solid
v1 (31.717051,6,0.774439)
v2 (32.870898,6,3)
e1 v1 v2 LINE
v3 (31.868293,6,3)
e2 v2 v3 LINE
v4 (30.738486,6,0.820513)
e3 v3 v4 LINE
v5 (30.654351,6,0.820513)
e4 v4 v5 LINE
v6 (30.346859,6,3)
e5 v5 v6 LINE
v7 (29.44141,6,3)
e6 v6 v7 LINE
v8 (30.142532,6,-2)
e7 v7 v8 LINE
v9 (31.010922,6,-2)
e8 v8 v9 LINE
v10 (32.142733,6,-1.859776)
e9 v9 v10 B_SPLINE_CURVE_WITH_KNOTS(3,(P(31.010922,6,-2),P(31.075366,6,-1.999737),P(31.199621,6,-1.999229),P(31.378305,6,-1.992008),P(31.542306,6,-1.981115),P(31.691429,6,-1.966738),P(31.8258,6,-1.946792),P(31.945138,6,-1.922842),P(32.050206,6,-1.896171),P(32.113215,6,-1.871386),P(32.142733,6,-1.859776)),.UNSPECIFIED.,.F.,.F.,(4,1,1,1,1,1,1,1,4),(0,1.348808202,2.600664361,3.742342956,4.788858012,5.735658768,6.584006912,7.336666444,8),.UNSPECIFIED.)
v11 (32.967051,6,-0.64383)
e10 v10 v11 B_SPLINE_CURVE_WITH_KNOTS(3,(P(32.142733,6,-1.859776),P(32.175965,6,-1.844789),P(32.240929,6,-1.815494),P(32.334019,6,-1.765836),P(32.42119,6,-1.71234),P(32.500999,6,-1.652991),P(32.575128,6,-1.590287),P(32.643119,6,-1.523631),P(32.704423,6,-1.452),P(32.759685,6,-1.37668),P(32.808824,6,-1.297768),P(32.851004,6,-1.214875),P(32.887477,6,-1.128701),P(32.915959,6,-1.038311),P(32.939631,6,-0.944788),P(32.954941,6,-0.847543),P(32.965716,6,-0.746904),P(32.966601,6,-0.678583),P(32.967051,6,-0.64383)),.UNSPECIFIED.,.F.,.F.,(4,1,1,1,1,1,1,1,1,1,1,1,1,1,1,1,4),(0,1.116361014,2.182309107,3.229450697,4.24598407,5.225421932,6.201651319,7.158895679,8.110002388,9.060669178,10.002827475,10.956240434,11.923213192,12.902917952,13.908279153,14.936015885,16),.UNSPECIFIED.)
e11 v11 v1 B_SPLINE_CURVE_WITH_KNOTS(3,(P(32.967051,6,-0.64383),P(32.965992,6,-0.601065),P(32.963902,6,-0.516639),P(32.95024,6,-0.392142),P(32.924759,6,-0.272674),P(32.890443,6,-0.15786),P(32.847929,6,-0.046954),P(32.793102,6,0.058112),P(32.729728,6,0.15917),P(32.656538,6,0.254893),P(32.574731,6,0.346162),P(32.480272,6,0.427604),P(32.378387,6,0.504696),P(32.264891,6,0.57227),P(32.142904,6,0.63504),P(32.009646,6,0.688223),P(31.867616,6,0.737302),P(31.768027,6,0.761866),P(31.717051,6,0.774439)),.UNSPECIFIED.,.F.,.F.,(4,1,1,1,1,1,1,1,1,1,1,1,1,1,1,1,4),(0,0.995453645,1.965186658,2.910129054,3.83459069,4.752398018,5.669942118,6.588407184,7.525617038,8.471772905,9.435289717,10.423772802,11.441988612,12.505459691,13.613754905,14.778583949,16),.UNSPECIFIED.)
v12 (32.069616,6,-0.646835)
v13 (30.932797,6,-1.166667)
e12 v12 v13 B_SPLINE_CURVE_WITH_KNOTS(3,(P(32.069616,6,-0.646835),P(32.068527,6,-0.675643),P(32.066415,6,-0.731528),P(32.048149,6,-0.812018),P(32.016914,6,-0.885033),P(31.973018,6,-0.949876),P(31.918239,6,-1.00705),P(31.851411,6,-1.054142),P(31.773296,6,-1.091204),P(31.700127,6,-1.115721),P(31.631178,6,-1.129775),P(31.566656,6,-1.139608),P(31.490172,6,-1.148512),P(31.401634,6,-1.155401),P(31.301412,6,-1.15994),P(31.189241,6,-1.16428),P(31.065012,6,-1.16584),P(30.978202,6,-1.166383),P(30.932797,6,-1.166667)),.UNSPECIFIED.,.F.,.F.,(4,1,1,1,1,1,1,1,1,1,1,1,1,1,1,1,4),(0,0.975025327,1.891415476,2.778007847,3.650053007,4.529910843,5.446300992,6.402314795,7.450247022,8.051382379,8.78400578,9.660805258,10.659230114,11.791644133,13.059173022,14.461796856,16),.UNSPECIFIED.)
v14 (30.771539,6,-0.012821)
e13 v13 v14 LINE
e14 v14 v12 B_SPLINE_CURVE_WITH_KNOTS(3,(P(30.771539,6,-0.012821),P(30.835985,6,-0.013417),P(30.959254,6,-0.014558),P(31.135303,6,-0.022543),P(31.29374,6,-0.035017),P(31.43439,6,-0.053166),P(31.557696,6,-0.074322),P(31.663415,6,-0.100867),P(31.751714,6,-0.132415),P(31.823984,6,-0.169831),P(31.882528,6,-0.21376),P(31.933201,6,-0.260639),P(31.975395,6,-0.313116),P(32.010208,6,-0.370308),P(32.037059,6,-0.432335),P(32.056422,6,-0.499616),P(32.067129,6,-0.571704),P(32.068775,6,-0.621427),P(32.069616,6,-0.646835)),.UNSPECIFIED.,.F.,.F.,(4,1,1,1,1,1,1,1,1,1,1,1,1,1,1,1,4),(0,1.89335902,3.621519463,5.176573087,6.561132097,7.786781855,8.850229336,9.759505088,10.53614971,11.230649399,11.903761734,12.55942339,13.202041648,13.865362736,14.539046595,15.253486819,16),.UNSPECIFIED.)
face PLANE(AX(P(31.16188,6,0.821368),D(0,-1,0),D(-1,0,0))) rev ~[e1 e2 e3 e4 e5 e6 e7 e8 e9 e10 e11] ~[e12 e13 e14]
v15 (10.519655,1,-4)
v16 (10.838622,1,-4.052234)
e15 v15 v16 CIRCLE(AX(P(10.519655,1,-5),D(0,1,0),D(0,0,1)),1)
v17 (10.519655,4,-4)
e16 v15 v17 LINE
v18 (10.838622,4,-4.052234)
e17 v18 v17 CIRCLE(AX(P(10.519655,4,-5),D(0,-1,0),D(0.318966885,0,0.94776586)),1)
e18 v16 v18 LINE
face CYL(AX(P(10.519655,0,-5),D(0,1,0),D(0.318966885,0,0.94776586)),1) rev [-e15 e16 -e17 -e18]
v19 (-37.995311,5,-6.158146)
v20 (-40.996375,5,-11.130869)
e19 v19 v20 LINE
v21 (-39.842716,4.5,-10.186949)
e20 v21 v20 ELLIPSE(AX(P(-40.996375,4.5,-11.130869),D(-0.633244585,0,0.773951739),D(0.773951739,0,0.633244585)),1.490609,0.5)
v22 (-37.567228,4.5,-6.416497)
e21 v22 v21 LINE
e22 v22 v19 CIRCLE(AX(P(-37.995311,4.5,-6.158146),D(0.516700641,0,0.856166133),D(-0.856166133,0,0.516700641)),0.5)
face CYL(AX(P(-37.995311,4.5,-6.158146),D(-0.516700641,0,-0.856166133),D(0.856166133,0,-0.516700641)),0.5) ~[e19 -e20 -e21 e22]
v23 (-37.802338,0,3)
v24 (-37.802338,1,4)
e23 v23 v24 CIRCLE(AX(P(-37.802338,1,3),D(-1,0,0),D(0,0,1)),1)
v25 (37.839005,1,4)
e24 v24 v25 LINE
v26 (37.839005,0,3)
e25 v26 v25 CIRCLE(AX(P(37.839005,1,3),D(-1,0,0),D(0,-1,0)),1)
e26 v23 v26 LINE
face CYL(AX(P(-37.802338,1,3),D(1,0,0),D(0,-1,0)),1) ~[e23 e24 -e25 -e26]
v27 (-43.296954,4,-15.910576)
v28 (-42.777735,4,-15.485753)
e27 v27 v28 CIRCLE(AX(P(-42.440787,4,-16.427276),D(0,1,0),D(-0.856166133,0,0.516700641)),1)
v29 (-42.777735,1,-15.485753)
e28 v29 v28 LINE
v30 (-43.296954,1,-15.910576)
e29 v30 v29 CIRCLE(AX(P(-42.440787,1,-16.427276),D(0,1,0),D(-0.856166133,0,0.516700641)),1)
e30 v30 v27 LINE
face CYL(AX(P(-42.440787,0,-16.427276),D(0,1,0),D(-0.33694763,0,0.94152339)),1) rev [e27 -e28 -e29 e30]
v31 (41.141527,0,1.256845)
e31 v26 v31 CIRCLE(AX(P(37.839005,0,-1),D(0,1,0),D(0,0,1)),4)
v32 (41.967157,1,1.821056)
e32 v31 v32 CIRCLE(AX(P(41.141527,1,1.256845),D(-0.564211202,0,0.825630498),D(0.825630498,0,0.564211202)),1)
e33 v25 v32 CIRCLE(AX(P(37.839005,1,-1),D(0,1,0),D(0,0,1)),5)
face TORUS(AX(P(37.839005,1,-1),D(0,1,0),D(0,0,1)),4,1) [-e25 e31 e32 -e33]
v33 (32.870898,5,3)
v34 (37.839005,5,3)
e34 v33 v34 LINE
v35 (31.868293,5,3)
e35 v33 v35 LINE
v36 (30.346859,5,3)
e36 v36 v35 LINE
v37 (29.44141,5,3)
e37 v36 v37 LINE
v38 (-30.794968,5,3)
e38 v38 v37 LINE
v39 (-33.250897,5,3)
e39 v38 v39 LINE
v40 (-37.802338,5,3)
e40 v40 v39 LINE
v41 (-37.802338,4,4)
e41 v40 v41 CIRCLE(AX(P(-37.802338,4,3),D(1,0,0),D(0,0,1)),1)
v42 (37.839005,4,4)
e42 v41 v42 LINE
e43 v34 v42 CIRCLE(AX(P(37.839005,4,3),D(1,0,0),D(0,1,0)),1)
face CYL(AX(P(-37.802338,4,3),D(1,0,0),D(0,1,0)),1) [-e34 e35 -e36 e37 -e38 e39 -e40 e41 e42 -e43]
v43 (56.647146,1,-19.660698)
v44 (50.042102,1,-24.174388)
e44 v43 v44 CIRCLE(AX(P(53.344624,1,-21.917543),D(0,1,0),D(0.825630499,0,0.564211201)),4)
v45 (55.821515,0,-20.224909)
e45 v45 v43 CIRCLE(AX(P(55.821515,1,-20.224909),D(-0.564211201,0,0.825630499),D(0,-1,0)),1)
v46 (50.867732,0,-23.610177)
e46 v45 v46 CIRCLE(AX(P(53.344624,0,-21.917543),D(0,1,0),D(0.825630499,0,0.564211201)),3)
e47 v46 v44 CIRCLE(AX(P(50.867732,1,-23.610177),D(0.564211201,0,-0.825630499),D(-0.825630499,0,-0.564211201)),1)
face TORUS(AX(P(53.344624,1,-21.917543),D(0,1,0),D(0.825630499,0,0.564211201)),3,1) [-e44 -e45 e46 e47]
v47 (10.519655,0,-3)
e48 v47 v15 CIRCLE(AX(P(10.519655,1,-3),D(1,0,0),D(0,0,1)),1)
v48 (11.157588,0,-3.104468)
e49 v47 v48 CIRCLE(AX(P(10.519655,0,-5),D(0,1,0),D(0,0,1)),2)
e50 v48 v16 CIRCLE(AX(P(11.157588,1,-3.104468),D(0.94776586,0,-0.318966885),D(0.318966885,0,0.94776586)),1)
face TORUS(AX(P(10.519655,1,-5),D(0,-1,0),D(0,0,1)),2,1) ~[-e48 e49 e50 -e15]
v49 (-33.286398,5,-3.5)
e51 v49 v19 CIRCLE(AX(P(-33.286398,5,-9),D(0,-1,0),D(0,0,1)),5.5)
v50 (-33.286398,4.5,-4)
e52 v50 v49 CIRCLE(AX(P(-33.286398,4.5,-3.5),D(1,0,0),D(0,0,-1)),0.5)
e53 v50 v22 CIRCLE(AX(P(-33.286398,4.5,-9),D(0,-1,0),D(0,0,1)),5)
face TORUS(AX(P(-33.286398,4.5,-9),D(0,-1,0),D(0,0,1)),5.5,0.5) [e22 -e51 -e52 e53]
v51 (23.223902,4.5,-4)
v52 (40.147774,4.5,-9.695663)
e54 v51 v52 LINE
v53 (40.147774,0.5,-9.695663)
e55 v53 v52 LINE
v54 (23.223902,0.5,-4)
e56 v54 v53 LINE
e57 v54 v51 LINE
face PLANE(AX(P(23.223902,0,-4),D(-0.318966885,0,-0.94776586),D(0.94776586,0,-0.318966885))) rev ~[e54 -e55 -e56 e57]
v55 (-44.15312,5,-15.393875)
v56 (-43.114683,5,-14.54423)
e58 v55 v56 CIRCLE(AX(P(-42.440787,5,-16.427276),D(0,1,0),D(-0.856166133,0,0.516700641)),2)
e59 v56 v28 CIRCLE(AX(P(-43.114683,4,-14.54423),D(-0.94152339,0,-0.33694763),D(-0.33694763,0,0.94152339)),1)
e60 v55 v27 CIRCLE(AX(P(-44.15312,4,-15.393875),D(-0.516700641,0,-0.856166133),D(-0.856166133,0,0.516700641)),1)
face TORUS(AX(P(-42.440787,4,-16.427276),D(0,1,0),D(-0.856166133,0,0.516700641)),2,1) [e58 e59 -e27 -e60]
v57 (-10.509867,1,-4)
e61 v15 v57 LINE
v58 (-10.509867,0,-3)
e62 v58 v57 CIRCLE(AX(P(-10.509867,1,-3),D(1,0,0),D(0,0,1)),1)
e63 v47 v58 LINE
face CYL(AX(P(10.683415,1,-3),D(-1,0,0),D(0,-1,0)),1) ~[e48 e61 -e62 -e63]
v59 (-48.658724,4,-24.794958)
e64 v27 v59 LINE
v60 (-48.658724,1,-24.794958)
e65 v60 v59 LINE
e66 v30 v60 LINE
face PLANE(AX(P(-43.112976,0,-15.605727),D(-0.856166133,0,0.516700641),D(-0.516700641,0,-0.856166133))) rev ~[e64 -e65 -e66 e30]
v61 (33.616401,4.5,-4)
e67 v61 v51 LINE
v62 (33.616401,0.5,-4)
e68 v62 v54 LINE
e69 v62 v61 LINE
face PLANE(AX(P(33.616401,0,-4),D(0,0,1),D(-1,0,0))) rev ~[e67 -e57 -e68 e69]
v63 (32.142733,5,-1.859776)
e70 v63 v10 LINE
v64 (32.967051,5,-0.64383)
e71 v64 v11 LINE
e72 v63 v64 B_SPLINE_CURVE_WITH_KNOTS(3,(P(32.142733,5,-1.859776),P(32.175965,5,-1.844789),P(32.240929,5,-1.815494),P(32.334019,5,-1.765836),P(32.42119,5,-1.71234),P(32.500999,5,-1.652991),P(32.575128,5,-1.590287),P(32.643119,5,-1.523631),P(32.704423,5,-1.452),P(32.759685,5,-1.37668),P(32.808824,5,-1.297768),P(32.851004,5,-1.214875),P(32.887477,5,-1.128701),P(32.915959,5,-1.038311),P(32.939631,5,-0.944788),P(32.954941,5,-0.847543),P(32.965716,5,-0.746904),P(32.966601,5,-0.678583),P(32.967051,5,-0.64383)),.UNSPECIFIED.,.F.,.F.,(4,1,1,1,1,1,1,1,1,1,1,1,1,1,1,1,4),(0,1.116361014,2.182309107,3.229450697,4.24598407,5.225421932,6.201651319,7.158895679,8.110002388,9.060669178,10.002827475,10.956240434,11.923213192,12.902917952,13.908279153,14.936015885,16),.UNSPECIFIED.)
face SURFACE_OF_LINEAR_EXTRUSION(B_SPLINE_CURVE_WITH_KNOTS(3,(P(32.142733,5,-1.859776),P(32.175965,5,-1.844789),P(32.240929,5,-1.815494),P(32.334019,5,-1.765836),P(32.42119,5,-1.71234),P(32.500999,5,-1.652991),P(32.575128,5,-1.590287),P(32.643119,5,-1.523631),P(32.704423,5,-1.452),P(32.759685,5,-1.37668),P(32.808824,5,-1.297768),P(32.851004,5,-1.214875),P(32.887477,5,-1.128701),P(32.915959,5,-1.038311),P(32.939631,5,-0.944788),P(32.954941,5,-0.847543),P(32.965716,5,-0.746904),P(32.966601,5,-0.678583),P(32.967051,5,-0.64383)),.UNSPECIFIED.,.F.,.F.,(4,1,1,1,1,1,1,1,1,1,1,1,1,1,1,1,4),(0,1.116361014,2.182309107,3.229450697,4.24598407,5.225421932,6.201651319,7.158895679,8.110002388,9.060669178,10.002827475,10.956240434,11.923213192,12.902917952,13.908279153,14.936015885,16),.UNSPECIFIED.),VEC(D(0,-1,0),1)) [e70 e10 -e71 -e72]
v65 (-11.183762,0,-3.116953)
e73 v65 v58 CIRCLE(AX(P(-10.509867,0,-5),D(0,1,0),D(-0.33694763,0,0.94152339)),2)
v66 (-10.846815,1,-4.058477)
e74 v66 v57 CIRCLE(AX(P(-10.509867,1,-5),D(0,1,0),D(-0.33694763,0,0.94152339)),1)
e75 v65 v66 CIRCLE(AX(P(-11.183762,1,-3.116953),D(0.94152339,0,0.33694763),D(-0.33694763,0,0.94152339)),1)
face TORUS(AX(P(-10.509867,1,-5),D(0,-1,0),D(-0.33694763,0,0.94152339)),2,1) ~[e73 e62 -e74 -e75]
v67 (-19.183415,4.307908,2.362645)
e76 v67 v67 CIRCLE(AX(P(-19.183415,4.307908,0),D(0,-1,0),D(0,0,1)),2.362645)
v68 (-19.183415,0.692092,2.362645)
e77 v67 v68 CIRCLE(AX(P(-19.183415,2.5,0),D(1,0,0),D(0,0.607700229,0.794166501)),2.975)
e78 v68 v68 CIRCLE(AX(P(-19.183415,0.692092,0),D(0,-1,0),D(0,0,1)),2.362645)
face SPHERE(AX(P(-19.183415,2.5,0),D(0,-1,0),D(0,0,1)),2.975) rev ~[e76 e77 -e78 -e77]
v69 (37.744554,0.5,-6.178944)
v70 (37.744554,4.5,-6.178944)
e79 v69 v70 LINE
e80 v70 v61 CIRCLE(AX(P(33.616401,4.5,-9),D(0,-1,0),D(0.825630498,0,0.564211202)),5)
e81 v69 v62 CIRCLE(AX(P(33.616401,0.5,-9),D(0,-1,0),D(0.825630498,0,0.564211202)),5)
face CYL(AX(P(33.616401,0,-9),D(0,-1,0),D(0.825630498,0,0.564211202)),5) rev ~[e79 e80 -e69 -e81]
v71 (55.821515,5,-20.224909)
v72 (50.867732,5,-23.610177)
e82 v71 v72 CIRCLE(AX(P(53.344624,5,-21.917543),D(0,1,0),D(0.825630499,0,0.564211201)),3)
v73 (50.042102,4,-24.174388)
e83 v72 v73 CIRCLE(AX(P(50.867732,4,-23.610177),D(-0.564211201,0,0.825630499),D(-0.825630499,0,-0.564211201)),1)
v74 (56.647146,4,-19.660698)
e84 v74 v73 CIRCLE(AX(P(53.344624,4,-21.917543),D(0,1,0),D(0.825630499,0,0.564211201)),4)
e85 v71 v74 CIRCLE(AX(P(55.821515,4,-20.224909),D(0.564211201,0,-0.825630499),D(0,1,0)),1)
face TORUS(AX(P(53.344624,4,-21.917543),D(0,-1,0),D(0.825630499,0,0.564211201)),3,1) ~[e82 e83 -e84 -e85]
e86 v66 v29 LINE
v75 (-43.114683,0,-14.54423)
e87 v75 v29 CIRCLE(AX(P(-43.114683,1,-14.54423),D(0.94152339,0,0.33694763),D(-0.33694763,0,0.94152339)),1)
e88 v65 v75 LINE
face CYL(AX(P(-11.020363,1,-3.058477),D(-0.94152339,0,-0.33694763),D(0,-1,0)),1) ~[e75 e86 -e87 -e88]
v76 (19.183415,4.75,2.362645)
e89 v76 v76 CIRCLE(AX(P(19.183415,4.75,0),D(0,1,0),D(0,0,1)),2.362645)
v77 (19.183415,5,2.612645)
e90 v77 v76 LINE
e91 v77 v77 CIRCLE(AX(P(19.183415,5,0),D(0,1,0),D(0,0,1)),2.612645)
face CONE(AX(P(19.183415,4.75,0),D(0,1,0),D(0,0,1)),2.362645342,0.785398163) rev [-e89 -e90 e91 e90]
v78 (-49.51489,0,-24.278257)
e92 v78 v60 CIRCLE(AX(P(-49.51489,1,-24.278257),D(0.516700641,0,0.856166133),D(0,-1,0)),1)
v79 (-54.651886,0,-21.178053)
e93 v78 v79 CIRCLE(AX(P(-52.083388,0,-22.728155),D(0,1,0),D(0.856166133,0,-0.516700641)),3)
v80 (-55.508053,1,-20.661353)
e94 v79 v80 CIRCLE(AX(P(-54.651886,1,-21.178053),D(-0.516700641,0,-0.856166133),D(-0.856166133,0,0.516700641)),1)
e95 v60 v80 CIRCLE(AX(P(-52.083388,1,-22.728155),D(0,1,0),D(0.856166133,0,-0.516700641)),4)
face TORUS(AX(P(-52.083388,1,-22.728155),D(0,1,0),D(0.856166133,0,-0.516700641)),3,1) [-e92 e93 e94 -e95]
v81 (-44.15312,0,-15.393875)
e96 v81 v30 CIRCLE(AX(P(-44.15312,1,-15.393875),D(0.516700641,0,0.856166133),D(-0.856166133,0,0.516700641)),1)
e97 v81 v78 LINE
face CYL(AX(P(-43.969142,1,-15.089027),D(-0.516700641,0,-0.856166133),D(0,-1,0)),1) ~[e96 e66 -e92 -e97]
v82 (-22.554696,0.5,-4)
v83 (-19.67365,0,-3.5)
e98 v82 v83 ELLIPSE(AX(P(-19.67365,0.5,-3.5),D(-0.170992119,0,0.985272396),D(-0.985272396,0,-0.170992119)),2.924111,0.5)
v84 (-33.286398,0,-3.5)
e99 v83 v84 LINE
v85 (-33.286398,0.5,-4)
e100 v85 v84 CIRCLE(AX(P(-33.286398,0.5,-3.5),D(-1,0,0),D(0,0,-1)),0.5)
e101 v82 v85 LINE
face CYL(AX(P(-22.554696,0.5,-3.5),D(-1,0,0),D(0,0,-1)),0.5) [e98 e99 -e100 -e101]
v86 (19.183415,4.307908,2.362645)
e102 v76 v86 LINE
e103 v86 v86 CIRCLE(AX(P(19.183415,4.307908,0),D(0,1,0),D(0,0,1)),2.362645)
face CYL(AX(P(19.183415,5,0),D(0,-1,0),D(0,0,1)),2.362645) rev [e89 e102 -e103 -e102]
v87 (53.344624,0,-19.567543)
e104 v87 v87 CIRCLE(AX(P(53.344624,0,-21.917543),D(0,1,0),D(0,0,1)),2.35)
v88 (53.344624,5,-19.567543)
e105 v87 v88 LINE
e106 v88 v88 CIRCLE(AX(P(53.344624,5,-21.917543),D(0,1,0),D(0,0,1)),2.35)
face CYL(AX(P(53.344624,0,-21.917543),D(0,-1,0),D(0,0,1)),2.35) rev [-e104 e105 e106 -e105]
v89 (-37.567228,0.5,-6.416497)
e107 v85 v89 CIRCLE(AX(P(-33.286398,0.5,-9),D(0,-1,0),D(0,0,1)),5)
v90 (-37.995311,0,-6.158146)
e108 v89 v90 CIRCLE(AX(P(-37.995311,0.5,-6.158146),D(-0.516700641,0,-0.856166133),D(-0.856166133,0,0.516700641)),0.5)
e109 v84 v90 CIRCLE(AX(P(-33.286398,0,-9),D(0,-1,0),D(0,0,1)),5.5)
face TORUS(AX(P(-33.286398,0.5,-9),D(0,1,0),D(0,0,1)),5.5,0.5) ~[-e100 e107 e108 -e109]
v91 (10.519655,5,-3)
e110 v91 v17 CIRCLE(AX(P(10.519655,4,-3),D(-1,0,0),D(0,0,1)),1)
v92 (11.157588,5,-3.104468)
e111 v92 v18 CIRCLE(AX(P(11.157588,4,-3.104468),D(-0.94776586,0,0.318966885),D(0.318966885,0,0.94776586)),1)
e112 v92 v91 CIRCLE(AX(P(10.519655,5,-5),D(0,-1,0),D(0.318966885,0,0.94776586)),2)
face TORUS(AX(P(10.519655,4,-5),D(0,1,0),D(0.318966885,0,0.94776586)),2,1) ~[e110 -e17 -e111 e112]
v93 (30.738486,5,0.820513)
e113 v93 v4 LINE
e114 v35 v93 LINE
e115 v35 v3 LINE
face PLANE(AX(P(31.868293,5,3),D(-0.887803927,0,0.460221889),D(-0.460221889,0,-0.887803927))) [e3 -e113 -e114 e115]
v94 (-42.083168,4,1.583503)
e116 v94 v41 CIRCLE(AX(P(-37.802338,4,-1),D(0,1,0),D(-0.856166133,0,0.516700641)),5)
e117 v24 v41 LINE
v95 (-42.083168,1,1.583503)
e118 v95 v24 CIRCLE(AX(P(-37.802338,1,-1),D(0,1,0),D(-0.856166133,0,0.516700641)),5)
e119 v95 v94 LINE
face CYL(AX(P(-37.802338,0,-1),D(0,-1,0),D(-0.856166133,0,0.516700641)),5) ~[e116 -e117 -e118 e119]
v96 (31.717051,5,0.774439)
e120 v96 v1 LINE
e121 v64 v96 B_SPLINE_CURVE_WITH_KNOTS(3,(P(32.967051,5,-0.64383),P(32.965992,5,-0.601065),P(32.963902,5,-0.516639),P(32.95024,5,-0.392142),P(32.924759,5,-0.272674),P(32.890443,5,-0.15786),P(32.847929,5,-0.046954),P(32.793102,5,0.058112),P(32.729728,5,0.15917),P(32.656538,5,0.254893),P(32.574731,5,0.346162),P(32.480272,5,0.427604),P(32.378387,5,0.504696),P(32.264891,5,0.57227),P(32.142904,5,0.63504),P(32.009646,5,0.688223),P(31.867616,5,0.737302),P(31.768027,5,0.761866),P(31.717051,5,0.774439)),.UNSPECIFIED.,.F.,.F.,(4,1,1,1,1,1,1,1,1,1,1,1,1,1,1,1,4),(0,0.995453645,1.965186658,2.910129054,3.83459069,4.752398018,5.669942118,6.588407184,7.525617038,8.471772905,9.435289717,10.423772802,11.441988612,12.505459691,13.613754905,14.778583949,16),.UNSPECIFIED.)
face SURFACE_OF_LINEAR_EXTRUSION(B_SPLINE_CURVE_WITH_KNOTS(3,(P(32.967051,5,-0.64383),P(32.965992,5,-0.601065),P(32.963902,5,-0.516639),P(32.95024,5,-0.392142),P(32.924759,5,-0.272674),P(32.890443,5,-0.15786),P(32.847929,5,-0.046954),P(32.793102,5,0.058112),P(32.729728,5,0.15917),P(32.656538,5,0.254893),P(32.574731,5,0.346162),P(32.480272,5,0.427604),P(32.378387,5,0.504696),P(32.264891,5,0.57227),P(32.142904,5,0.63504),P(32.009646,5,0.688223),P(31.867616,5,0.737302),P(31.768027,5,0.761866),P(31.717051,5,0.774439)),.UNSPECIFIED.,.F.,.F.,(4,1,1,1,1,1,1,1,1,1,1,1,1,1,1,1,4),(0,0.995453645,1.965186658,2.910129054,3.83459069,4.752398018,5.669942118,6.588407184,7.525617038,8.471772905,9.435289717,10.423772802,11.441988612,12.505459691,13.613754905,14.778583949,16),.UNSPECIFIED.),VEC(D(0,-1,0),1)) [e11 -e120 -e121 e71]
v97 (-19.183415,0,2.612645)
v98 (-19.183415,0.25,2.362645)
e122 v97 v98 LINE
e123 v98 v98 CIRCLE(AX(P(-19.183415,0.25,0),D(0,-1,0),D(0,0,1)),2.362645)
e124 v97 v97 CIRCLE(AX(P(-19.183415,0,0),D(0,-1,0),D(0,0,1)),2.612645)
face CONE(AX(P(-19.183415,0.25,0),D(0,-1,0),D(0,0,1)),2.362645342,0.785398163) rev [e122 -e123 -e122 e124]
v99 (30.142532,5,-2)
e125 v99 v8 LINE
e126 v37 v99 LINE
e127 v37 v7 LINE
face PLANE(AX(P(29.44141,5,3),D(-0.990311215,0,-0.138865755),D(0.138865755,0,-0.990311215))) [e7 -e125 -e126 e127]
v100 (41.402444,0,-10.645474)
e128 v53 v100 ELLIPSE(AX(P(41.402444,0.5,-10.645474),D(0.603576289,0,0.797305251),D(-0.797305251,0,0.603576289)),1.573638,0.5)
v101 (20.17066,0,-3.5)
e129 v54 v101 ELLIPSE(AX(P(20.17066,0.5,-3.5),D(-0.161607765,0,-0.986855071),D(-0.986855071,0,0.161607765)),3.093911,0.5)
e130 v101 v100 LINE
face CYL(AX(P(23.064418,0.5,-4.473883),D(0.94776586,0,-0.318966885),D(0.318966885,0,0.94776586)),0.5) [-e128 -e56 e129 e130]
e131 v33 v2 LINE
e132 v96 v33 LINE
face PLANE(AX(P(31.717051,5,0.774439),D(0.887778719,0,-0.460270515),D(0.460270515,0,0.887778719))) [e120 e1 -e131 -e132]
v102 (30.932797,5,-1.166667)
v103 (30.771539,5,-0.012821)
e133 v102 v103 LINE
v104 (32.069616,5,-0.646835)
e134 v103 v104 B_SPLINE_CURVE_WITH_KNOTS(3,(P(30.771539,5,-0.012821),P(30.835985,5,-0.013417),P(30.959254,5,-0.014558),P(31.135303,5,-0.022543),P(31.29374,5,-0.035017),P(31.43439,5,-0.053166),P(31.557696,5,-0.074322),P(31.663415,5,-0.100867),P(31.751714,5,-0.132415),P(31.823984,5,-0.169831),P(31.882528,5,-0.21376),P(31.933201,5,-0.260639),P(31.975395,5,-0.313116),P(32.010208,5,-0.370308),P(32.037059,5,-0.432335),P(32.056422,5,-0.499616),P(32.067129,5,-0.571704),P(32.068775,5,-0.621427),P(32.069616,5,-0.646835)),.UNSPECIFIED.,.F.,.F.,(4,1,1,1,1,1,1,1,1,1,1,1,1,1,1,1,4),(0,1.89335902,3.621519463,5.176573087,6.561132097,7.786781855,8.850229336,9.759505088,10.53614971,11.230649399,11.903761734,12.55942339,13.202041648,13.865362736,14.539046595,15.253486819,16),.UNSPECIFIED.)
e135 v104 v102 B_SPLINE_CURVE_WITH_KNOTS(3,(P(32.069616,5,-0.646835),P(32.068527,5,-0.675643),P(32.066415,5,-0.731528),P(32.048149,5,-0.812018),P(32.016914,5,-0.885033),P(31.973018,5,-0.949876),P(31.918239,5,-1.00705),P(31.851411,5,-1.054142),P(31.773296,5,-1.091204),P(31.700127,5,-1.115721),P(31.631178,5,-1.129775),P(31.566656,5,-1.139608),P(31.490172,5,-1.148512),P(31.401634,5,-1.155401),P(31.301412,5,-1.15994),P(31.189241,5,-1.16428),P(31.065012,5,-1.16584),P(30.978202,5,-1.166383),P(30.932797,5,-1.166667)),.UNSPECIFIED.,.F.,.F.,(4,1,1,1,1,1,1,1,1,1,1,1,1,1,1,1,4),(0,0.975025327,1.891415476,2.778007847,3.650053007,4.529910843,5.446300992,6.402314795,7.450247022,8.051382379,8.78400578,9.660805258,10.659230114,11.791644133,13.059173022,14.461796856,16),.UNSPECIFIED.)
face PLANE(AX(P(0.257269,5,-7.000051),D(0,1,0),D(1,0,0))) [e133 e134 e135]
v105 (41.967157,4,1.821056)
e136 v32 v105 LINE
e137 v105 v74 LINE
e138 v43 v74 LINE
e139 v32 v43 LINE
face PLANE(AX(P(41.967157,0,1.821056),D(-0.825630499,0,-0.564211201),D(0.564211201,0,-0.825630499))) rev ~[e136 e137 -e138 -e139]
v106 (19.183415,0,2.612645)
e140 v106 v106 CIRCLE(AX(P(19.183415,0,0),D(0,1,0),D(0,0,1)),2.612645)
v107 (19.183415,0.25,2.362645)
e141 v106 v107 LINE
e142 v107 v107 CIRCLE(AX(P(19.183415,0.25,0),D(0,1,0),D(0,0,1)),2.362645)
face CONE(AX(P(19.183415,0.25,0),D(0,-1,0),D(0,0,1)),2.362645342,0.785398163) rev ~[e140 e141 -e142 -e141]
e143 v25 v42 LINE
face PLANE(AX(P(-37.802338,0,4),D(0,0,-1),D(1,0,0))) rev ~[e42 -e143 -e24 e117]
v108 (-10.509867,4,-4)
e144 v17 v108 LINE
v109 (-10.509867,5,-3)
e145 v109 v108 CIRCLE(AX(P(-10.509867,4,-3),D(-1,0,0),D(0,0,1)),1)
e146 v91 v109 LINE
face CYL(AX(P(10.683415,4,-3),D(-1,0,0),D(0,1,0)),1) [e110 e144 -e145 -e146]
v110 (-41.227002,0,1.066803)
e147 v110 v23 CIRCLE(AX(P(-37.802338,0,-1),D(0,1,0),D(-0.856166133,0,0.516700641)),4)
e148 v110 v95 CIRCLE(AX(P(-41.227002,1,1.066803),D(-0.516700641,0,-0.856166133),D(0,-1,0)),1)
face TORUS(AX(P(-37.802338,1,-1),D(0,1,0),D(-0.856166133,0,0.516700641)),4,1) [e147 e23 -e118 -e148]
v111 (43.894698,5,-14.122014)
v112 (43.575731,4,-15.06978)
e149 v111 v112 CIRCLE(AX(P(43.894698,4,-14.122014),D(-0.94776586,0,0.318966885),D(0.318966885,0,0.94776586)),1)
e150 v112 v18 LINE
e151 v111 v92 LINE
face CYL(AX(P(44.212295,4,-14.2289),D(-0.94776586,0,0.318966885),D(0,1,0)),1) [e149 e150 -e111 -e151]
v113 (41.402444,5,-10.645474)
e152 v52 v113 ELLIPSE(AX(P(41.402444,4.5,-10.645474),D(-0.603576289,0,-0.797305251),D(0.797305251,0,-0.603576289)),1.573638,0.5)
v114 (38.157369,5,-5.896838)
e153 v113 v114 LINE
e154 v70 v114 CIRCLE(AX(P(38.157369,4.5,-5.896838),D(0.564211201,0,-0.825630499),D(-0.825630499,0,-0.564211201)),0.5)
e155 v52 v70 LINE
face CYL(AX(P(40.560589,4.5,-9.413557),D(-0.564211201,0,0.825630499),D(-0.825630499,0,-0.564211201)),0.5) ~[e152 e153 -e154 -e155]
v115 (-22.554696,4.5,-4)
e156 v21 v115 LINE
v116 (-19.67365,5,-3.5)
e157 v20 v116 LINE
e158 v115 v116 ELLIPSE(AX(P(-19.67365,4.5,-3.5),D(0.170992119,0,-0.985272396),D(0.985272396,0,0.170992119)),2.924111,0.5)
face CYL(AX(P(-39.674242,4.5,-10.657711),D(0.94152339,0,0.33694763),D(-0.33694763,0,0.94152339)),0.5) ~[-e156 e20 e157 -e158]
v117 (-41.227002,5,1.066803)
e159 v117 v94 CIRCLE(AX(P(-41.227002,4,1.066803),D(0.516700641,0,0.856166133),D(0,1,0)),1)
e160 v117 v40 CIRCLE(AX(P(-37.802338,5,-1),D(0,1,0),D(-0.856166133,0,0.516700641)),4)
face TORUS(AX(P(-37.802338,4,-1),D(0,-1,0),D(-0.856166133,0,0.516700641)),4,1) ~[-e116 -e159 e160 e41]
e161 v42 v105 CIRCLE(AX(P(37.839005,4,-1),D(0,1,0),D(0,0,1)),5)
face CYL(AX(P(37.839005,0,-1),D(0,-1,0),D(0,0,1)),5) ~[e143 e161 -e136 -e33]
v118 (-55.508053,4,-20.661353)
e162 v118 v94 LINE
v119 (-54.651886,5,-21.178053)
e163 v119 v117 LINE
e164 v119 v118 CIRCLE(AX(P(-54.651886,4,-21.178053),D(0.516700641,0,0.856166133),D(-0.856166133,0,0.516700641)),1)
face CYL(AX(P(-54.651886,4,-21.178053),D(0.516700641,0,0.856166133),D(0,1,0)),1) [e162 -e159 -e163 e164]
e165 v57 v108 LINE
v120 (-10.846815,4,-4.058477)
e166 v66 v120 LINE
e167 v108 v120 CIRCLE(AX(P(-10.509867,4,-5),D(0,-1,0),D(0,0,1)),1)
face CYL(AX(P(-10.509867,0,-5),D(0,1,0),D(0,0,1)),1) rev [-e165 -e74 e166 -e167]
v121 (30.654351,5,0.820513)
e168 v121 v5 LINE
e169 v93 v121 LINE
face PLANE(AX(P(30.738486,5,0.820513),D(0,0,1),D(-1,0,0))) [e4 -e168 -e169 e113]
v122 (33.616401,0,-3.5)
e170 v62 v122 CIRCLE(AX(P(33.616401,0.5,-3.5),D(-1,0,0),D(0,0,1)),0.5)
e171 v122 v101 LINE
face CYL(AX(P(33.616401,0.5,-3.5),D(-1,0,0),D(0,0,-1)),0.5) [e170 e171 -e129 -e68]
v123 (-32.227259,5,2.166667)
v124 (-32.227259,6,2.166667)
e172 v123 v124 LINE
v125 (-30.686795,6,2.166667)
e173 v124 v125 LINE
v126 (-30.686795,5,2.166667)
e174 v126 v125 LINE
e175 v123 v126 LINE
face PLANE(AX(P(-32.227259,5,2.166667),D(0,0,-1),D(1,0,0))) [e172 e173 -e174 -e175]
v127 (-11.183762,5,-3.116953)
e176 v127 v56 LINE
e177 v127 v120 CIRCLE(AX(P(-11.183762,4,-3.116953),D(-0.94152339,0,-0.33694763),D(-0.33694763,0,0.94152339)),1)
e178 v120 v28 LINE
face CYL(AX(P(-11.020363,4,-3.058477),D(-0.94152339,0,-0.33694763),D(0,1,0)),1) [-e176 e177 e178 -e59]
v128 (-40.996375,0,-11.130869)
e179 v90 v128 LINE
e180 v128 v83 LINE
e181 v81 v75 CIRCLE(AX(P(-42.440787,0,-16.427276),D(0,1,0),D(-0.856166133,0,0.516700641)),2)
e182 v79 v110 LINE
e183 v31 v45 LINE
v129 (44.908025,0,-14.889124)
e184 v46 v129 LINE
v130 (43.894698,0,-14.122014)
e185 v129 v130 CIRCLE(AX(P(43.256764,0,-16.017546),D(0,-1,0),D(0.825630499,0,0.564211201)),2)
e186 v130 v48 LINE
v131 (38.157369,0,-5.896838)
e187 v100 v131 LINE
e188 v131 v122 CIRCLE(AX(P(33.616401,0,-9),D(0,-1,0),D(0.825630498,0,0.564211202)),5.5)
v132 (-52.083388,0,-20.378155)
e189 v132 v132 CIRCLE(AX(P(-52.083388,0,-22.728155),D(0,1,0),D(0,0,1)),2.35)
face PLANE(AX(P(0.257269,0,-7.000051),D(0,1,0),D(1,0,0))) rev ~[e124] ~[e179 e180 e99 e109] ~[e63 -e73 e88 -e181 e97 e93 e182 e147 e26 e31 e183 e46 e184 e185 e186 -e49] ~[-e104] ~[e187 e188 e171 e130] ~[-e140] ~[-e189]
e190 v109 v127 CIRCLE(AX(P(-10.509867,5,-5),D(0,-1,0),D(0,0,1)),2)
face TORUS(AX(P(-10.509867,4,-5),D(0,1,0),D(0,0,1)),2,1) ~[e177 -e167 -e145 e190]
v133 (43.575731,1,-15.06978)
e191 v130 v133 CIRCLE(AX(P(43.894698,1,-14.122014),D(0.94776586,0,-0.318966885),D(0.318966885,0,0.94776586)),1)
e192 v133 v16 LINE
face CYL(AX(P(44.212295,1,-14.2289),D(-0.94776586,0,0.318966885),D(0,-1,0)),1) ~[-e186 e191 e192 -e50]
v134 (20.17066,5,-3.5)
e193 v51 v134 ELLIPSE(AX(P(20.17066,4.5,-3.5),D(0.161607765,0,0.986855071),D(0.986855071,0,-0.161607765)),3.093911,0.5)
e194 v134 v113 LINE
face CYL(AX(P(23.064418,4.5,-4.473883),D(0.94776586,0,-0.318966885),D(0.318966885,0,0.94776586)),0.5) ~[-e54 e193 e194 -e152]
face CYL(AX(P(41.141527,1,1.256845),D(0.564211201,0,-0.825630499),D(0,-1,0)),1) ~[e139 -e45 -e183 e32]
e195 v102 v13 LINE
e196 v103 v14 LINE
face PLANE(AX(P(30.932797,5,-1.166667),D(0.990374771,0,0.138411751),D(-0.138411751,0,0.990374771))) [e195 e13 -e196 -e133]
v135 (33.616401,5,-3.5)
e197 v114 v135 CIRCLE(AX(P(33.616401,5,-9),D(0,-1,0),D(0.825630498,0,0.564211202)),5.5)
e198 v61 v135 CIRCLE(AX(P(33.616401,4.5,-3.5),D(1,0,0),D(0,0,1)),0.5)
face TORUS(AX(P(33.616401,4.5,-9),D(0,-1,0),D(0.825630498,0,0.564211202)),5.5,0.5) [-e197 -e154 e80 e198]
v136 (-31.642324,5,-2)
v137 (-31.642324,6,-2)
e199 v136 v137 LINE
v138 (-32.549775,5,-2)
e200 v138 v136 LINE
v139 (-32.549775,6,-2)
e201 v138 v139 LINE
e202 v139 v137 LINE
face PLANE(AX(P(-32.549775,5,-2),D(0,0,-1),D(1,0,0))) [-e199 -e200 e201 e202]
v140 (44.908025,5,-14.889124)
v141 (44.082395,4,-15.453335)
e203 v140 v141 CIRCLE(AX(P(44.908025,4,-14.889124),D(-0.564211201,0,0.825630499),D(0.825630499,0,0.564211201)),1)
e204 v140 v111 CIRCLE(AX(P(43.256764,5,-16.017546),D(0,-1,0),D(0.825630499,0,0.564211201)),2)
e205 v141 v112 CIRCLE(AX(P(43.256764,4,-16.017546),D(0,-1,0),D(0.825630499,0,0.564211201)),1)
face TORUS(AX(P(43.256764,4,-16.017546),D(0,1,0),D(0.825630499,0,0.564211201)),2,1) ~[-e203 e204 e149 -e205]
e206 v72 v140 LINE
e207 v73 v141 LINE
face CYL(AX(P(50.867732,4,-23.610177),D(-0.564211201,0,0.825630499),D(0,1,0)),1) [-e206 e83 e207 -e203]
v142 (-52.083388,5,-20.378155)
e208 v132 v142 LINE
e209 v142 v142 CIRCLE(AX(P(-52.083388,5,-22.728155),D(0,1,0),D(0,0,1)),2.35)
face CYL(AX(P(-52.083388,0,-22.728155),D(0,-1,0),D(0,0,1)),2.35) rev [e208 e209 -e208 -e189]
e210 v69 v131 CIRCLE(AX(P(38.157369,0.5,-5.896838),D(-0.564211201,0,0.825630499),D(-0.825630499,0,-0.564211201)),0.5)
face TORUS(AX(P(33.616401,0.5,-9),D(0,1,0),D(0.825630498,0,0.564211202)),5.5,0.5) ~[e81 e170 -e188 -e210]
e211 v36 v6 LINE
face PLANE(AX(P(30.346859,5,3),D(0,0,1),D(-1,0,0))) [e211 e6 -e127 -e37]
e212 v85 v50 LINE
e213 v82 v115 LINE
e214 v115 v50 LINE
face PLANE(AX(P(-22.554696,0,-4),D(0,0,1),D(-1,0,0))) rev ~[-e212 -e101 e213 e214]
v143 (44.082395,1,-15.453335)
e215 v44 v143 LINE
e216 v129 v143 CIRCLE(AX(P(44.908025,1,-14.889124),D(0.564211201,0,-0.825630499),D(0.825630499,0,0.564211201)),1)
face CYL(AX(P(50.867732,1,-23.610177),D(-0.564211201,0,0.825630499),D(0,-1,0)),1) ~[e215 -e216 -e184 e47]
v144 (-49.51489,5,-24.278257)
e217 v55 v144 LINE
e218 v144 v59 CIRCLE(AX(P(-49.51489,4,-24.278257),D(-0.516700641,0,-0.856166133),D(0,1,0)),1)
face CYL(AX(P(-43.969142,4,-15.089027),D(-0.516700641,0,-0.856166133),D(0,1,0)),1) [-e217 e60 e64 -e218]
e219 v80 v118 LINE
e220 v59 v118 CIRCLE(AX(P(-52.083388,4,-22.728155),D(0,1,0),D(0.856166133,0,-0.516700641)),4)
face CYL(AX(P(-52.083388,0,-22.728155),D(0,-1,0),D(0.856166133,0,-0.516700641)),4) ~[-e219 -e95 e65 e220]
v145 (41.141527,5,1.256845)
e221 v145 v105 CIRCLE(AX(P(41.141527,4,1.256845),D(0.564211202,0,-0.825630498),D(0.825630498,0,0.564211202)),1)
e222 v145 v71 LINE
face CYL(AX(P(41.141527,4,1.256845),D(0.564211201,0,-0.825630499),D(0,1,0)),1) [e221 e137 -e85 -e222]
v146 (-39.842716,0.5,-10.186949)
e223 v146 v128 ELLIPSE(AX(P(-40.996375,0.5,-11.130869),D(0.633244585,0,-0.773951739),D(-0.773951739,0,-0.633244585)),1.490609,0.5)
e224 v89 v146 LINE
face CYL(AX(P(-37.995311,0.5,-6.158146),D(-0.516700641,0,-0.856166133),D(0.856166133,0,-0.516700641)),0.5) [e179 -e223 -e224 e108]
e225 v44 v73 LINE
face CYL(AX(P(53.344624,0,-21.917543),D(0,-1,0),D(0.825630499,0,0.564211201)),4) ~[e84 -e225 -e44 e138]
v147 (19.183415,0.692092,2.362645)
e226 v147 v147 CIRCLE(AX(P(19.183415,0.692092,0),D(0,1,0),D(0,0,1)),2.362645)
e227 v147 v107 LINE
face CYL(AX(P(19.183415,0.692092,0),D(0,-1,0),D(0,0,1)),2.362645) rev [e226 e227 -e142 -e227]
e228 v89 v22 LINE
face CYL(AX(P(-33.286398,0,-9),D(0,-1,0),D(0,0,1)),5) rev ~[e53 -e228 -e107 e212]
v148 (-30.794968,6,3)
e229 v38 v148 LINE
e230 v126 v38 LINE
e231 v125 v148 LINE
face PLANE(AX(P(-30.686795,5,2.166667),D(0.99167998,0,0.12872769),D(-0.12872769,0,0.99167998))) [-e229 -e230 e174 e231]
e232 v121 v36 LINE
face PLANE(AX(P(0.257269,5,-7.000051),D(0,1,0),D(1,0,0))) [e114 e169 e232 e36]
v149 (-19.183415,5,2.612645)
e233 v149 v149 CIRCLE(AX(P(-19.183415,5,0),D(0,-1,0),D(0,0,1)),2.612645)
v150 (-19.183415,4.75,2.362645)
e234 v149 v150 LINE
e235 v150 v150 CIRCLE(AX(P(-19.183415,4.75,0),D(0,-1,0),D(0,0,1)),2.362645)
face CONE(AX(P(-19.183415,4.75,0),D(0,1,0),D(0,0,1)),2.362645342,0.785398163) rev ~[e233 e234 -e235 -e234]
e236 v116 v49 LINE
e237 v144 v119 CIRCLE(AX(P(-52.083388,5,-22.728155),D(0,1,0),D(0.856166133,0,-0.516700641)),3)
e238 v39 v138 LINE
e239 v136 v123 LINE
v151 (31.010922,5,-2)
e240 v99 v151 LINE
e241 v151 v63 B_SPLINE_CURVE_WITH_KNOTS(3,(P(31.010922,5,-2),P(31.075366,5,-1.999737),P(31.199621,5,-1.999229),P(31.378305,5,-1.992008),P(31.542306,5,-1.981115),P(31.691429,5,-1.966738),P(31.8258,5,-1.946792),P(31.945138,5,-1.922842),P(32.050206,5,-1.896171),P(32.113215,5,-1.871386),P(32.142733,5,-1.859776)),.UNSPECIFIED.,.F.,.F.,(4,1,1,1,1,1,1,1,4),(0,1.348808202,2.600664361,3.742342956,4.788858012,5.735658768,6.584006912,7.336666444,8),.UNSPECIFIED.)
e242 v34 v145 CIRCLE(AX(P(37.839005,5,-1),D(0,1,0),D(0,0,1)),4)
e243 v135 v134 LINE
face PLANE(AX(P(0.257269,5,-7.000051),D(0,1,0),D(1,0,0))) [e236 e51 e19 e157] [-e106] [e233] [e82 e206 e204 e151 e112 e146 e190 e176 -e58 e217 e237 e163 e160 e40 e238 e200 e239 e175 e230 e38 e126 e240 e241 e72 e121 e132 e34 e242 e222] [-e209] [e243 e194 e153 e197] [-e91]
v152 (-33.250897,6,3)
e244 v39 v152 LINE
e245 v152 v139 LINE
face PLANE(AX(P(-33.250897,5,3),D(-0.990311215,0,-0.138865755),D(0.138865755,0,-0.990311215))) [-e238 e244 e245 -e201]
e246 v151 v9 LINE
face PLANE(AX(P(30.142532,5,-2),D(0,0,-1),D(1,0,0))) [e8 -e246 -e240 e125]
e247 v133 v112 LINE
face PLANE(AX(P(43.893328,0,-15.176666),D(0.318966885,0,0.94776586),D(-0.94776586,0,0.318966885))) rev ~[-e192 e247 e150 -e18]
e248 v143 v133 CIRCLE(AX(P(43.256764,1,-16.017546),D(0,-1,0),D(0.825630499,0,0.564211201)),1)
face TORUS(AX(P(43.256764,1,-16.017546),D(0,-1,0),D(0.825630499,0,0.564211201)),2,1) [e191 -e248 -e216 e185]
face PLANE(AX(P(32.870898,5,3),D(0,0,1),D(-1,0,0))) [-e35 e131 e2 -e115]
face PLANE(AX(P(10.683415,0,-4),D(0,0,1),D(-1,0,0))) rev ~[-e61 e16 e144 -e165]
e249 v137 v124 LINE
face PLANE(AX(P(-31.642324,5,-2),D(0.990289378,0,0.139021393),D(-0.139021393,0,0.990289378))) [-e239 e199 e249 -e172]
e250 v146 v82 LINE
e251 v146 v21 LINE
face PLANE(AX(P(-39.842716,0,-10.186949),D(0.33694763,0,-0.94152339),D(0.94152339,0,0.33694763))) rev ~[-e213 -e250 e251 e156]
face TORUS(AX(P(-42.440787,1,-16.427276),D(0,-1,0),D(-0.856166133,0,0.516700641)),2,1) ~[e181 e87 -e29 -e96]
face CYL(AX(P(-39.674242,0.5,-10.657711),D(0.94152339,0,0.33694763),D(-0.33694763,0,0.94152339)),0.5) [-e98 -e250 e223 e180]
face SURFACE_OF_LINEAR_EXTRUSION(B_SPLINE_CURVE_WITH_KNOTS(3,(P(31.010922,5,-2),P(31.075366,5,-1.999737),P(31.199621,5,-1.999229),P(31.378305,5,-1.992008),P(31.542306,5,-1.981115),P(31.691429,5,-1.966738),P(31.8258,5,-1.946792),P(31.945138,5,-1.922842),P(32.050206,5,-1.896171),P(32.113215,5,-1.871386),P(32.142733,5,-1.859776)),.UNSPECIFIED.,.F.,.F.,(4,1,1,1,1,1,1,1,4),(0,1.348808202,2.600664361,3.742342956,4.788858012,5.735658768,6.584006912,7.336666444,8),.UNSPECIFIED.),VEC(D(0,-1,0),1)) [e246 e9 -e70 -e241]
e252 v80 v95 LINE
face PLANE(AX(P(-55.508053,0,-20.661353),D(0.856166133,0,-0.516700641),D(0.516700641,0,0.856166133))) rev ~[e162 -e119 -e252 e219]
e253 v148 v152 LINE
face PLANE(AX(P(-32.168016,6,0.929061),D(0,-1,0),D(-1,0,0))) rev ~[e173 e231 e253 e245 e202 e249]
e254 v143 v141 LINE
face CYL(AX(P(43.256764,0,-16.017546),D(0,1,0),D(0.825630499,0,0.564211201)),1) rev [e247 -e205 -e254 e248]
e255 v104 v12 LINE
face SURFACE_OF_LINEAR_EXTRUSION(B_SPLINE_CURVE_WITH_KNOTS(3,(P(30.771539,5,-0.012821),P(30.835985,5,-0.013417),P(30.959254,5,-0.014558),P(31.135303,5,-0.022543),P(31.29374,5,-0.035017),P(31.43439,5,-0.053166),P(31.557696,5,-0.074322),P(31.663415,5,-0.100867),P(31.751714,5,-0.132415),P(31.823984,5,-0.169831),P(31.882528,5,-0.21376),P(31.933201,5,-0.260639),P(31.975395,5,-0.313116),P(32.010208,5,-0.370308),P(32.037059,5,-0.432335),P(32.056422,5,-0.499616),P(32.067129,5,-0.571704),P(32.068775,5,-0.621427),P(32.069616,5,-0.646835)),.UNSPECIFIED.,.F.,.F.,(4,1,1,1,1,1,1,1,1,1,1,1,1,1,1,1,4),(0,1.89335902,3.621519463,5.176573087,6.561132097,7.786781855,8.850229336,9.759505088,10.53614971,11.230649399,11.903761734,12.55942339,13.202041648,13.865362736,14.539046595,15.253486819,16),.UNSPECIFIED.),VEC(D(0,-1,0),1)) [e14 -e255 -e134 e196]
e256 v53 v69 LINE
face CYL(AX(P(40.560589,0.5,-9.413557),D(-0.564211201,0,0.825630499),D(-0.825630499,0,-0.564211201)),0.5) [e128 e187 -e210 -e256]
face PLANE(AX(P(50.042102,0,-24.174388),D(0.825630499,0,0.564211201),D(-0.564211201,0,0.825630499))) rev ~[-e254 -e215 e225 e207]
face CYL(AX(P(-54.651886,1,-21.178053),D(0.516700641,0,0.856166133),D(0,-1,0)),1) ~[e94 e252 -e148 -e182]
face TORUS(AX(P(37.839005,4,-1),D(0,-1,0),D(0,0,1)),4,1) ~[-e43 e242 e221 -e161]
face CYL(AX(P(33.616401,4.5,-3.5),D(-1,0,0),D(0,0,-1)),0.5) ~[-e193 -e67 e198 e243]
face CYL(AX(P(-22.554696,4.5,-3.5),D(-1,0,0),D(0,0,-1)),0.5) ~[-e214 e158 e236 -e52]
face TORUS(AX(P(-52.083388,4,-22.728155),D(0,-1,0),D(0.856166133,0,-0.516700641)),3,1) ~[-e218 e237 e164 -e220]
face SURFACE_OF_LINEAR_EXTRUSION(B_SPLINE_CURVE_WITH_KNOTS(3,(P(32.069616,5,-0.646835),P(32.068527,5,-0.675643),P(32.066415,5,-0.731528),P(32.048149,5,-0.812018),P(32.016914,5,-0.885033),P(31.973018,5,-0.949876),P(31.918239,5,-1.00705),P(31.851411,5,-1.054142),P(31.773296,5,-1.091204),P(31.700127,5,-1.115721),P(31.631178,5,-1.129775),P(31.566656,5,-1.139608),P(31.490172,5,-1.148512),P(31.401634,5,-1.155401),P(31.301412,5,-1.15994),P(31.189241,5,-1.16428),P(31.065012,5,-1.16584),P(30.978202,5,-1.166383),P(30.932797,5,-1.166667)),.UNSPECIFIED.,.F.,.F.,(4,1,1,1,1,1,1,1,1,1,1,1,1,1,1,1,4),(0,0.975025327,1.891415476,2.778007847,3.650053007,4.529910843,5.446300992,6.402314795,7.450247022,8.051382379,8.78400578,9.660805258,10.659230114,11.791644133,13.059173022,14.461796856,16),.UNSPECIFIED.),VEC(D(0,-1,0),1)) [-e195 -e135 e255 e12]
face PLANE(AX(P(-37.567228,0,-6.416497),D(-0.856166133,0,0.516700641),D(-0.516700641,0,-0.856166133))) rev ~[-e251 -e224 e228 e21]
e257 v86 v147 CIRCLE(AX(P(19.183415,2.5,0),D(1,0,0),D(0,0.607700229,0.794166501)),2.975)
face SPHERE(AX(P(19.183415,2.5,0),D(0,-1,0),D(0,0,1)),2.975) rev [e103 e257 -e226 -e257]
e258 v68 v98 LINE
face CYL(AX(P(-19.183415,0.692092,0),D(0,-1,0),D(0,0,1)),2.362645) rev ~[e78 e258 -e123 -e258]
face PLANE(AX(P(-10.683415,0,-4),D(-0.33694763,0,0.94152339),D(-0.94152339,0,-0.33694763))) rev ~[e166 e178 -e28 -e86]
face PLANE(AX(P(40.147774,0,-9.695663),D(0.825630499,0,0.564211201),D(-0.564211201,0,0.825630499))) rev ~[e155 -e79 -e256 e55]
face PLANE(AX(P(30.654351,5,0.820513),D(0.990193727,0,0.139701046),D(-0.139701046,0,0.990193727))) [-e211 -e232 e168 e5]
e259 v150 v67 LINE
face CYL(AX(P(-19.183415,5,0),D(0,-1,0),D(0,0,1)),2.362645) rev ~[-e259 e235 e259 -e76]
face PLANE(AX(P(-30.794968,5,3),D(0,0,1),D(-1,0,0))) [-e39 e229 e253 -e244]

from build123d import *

# Parameters (mm, degrees)
SKETCH1_R           = 2.35
BOSS_EXTRUDE1_DEPTH = 5
FILLET2_R           = 0.5
FILLET3_R           = 1
CHAMFER1_SIZE       = 0.25
BOSS_EXTRUDE2_DEPTH = 1


with BuildPart() as part:
    # Sketch1 → Boss-Extrude1 (new body)
    with BuildSketch(Plane(origin=(0, 0, 0), x_dir=(1, 0, 0), z_dir=(0, 1, 0))):
        with BuildLine():
            Line((50.042101864, 24.174387827), (43.893327684, 15.17666591))
            Line((43.893327684, 15.17666591), (10.68341508, 4))
            Line((10.68341508, 4), (-10.68341508, 4))
            Line((-10.68341508, 4), (-43.112975931, 15.605727248))
            Line((-43.112975931, 15.605727248), (-48.658723515, 24.7949577))
            ThreePointArc((-48.658723515, 24.7949577), (-54.150190612, 26.152819669), (-55.50805258, 20.661352572))
            Line((-55.50805258, 20.661352572), (-42.083168328, -1.583503205))
            ThreePointArc((-42.083168328, -1.583503205), (-40.260231474, -3.354165593), (-37.802337662, -4))
            Line((-37.802337662, -4), (37.839004699, -4))
            ThreePointArc((37.839004699, -4), (40.172962707, -3.421836724), (41.967157192, -1.821056007))
            Line((41.967157192, -1.821056007), (56.647145853, 19.660698216))
            ThreePointArc((56.647145853, 19.660698216), (55.601468664, 25.220065016), (50.042101864, 24.174387827))
        make_face()
        with BuildLine():
            Line((-22.55469609, 4), (-33.28639768, 4))
            ThreePointArc((-33.28639768, 4), (-35.744291491, 4.645834407), (-37.567228346, 6.416496795))
            Line((-37.567228346, 6.416496795), (-39.842715522, 10.186948972))
            Line((-39.842715522, 10.186948972), (-22.55469609, 4))
        make_face(mode=Mode.SUBTRACT)
        with BuildLine():
            ThreePointArc((-21.18341508, 0), (-19.18341508, 2), (-17.18341508, 0))
            ThreePointArc((-17.18341508, 0), (-19.18341508, -2), (-21.18341508, 0))
        make_face(mode=Mode.SUBTRACT)
        with BuildLine():
            ThreePointArc((21.18341508, 0), (19.18341508, -2), (17.18341508, 0))
            ThreePointArc((17.18341508, 0), (19.18341508, 2), (21.18341508, 0))
        make_face(mode=Mode.SUBTRACT)
        with BuildLine():
            Line((40.147774043, 9.695662853), (37.744553503, 6.178943993))
            ThreePointArc((37.744553503, 6.178943993), (35.950359018, 4.578163276), (33.61640101, 4))
            Line((33.61640101, 4), (23.223901836, 4))
            Line((23.223901836, 4), (40.147774043, 9.695662853))
        make_face(mode=Mode.SUBTRACT)
        with Locations(Location((-52.083388048, 22.728155136, 0), (0, 0, 270))):
            Circle(SKETCH1_R, mode=Mode.SUBTRACT)
        with Locations(Location((53.344623859, 21.917543022, 0), (0, 0, 270))):
            Circle(SKETCH1_R, mode=Mode.SUBTRACT)
    extrude(amount=BOSS_EXTRUDE1_DEPTH)

    # Fillet2
    fillet2_edges = [part.edges().sort_by_distance(p)[0] for p in [
        (-31.198705806, 5, -7.093474486),
        (-27.920546885, 5, -4),
        (-35.744291491, 5, -4.645834407),
        (-38.704971934, 5, -8.301722884),
        (-38.704971934, 0, -8.301722884),
        (-35.744291491, 0, -4.645834407),
        (-27.920546885, 0, -4),
        (-31.198705806, 0, -7.093474486),
        (28.420151423, 0, -4),
        (35.950359018, 0, -4.578163276),
        (38.946163773, 0, -7.937303423),
        (31.68583794, 0, -6.847831427),
        (31.68583794, 5, -6.847831427),
        (38.946163773, 5, -7.937303423),
        (35.950359018, 5, -4.578163276),
        (28.420151423, 5, -4),
    ]]
    fillet(fillet2_edges, radius=FILLET2_R)

    # Fillet3
    fillet3_edges = [part.edges().sort_by_distance(p)[0] for p in [
        (46.967714774, 5, -19.675526869),
        (27.288371382, 5, -9.588332955),
        (0, 5, -4),
        (-26.898195505, 5, -9.802863624),
        (-45.885849723, 5, -20.200342474),
        (55.601468664, 0, -25.220065016),
        (49.307151523, 0, -8.919821105),
        (40.172962707, 0, 3.421836724),
        (0.018333518, 0, 4),
        (-40.260231474, 0, 3.354165593),
        (-48.795610454, 0, -9.538924684),
        (-54.150190612, 0, -26.152819669),
        (-54.150190612, 5, -26.152819669),
        (-45.885849723, 0, -20.200342474),
        (-26.898195505, 0, -9.802863624),
        (0, 0, -4),
        (27.288371382, 0, -9.588332955),
        (46.967714774, 0, -19.675526869),
        (-48.795610454, 5, -9.538924684),
        (-40.260231474, 5, 3.354165593),
        (-43.112975931, 2.5, -15.605727248),
        (-10.68341508, 2.5, -4),
        (10.68341508, 2.5, -4),
        (43.893327684, 2.5, -15.17666591),
        (0.018333518, 5, 4),
        (40.172962707, 5, 3.421836724),
        (49.307151523, 5, -8.919821105),
        (55.601468664, 5, -25.220065016),
    ]]
    fillet(fillet3_edges, radius=FILLET3_R)

    # Sketch2 → Cut-Revolve3 (revolve, cut)
    with BuildSketch(Plane.XY, mode=Mode.PRIVATE) as cut_revolve3_sk:
        with BuildLine():
            Line((-21.546060422, 5), (-21.546060422, 4.30790818))
            ThreePointArc((-21.546060422, 4.30790818), (-22.15841508, 2.5), (-21.546060422, 0.69209182))
            Line((-21.546060422, 0.69209182), (-21.546060422, 0))
            Line((-21.546060422, 0), (-19.18341508, 0))
            Line((-19.18341508, 0), (-19.18341508, 5))
            Line((-19.18341508, 5), (-21.546060422, 5))
        make_face()
    cut_revolve3 = revolve(cut_revolve3_sk.sketch.rotate(Axis((-19.18341508, 7.523248273, 0), (0, -1, 0)), 270), axis=Axis((-19.18341508, 7.523248273, 0), (0, -1, 0)), mode=Mode.SUBTRACT)

    # Mirror1: Cut-Revolve3 across plane
    add(cut_revolve3.mirror(Plane(origin=(0, 0, 0), x_dir=(0, 0, 1), z_dir=(1, 0, 0))), mode=Mode.SUBTRACT)

    # Chamfer1
    chamfer1_edges = [part.edges().sort_by_distance(p)[0] for p in [
        (-19.18341508, 0, -2.362645342),
        (-19.18341508, 5, -2.362645342),
        (19.18341508, 5, -2.362645342),
        (19.18341508, 0, -2.362645342),
    ]]
    chamfer(chamfer1_edges, length=CHAMFER1_SIZE)

    # Sketch3 → Boss-Extrude2 (add)
    with BuildSketch(Plane(origin=(0, 5, 0), x_dir=(1, 0, 0), z_dir=(0, 1, 0))):
        Polygon((-32.549775456, 2), (-31.642323533, 2), (-32.22725943, -2.166666667), (-30.686794687, -2.166666667), (-30.794967764, -3), (-33.250897251, -3), align=None)
        with BuildLine():
            Line((30.142532236, 2), (31.010921659, 2))
            add(Edge.make_bspline(
                [(31.010921659, 2), (31.075365543, 1.999736646), (31.199621096, 1.999228867), (31.378304625, 1.992008258), (31.542305706, 1.981114583), (31.691429334, 1.966738221), (31.825800014, 1.946791824), (31.945138312, 1.922842178), (32.05020647, 1.89617091), (32.113215473, 1.871386228), (32.142732557, 1.859775641)],
                knots=[0, 0, 0, 0, 1.348808202, 2.600664361, 3.742342956, 4.788858012, 5.735658768, 6.584006912, 7.336666444, 8, 8, 8, 8], degree=3))
            add(Edge.make_bspline(
                [(32.142732557, 1.859775641), (32.175964997, 1.844789398), (32.240929159, 1.815493664), (32.334019016, 1.765835598), (32.421190421, 1.712340384), (32.500998665, 1.652991077), (32.575127949, 1.590286684), (32.643118605, 1.523630806), (32.704423164, 1.452000479), (32.759685007, 1.376680489), (32.808823598, 1.297768252), (32.851004016, 1.214874628), (32.887476693, 1.128701418), (32.91595883, 1.038310906), (32.93963091, 0.944788129), (32.954941153, 0.847543021), (32.965715779, 0.746903607), (32.966601124, 0.678582599), (32.967051467, 0.643830128)],
                knots=[0, 0, 0, 0, 1.116361014, 2.182309107, 3.229450697, 4.24598407, 5.225421932, 6.201651319, 7.158895679, 8.110002388, 9.060669178, 10.002827475, 10.956240434, 11.923213192, 12.902917952, 13.908279153, 14.936015885, 16, 16, 16, 16], degree=3))
            add(Edge.make_bspline(
                [(32.967051467, 0.643830128), (32.965992373, 0.601064821), (32.96390155, 0.516639182), (32.95023967, 0.39214222), (32.924758569, 0.272674459), (32.890443209, 0.157859567), (32.847929234, 0.046954128), (32.793101901, -0.058112019), (32.729728322, -0.159169523), (32.656538306, -0.254893456), (32.574730841, -0.346161929), (32.480271881, -0.42760369), (32.378387029, -0.504695928), (32.264890712, -0.57226995), (32.142904359, -0.635040198), (32.009645634, -0.688222967), (31.867615595, -0.737302454), (31.768026721, -0.761866054), (31.717051467, -0.774439103)],
                knots=[0, 0, 0, 0, 0.995453645, 1.965186658, 2.910129054, 3.83459069, 4.752398018, 5.669942118, 6.588407184, 7.525617038, 8.471772905, 9.435289717, 10.423772802, 11.441988612, 12.505459691, 13.613754905, 14.778583949, 16, 16, 16, 16], degree=3))
            Line((31.717051467, -0.774439103), (32.870897621, -3))
            Line((32.870897621, -3), (31.868293454, -3))
            Line((31.868293454, -3), (30.738485762, -0.820512821))
            Line((30.738485762, -0.820512821), (30.654351147, -0.820512821))
            Line((30.654351147, -0.820512821), (30.346859159, -3))
            Line((30.346859159, -3), (29.441410441, -3))
            Line((29.441410441, -3), (30.142532236, 2))
        make_face()
        with BuildLine():
            add(Edge.make_bspline(
                [(30.771538647, 0.012820513), (30.835984696, 0.013417113), (30.959253776, 0.01455826), (31.135302787, 0.022543386), (31.293740499, 0.035017412), (31.434390485, 0.053166089), (31.557695525, 0.074321608), (31.663414571, 0.100866518), (31.75171383, 0.132414721), (31.823984238, 0.169830537), (31.882528302, 0.21375976), (31.933200691, 0.260639252), (31.975394575, 0.313115621), (32.010208309, 0.370307936), (32.037058996, 0.432334729), (32.056422492, 0.499616227), (32.067128723, 0.571703821), (32.068774577, 0.621427363), (32.06961557, 0.646834936)],
                knots=[0, 0, 0, 0, 1.89335902, 3.621519463, 5.176573087, 6.561132097, 7.786781855, 8.850229336, 9.759505088, 10.53614971, 11.230649399, 11.903761734, 12.55942339, 13.202041648, 13.865362736, 14.539046595, 15.253486819, 16, 16, 16, 16], degree=3))
            add(Edge.make_bspline(
                [(32.06961557, 0.646834936), (32.068526937, 0.675643454), (32.066415139, 0.73152803), (32.048148949, 0.812017946), (32.016914386, 0.88503319), (31.973018491, 0.949875902), (31.91823868, 1.007050421), (31.851410673, 1.054142457), (31.773296362, 1.091204052), (31.700126841, 1.115720613), (31.631178242, 1.12977549), (31.56665604, 1.139607628), (31.490171815, 1.148512428), (31.40163361, 1.155401007), (31.301412432, 1.159939655), (31.189240515, 1.164279751), (31.065011814, 1.165839826), (30.978202419, 1.16638271), (30.932796659, 1.166666667)],
                knots=[0, 0, 0, 0, 0.975025327, 1.891415476, 2.778007847, 3.650053007, 4.529910843, 5.446300992, 6.402314795, 7.450247022, 8.051382379, 8.78400578, 9.660805258, 10.659230114, 11.791644133, 13.059173022, 14.461796856, 16, 16, 16, 16], degree=3))
            Line((30.932796659, 1.166666667), (30.771538647, 0.012820513))
        make_face(mode=Mode.SUBTRACT)
    extrude(amount=BOSS_EXTRUDE2_DEPTH)


solid = part.part
